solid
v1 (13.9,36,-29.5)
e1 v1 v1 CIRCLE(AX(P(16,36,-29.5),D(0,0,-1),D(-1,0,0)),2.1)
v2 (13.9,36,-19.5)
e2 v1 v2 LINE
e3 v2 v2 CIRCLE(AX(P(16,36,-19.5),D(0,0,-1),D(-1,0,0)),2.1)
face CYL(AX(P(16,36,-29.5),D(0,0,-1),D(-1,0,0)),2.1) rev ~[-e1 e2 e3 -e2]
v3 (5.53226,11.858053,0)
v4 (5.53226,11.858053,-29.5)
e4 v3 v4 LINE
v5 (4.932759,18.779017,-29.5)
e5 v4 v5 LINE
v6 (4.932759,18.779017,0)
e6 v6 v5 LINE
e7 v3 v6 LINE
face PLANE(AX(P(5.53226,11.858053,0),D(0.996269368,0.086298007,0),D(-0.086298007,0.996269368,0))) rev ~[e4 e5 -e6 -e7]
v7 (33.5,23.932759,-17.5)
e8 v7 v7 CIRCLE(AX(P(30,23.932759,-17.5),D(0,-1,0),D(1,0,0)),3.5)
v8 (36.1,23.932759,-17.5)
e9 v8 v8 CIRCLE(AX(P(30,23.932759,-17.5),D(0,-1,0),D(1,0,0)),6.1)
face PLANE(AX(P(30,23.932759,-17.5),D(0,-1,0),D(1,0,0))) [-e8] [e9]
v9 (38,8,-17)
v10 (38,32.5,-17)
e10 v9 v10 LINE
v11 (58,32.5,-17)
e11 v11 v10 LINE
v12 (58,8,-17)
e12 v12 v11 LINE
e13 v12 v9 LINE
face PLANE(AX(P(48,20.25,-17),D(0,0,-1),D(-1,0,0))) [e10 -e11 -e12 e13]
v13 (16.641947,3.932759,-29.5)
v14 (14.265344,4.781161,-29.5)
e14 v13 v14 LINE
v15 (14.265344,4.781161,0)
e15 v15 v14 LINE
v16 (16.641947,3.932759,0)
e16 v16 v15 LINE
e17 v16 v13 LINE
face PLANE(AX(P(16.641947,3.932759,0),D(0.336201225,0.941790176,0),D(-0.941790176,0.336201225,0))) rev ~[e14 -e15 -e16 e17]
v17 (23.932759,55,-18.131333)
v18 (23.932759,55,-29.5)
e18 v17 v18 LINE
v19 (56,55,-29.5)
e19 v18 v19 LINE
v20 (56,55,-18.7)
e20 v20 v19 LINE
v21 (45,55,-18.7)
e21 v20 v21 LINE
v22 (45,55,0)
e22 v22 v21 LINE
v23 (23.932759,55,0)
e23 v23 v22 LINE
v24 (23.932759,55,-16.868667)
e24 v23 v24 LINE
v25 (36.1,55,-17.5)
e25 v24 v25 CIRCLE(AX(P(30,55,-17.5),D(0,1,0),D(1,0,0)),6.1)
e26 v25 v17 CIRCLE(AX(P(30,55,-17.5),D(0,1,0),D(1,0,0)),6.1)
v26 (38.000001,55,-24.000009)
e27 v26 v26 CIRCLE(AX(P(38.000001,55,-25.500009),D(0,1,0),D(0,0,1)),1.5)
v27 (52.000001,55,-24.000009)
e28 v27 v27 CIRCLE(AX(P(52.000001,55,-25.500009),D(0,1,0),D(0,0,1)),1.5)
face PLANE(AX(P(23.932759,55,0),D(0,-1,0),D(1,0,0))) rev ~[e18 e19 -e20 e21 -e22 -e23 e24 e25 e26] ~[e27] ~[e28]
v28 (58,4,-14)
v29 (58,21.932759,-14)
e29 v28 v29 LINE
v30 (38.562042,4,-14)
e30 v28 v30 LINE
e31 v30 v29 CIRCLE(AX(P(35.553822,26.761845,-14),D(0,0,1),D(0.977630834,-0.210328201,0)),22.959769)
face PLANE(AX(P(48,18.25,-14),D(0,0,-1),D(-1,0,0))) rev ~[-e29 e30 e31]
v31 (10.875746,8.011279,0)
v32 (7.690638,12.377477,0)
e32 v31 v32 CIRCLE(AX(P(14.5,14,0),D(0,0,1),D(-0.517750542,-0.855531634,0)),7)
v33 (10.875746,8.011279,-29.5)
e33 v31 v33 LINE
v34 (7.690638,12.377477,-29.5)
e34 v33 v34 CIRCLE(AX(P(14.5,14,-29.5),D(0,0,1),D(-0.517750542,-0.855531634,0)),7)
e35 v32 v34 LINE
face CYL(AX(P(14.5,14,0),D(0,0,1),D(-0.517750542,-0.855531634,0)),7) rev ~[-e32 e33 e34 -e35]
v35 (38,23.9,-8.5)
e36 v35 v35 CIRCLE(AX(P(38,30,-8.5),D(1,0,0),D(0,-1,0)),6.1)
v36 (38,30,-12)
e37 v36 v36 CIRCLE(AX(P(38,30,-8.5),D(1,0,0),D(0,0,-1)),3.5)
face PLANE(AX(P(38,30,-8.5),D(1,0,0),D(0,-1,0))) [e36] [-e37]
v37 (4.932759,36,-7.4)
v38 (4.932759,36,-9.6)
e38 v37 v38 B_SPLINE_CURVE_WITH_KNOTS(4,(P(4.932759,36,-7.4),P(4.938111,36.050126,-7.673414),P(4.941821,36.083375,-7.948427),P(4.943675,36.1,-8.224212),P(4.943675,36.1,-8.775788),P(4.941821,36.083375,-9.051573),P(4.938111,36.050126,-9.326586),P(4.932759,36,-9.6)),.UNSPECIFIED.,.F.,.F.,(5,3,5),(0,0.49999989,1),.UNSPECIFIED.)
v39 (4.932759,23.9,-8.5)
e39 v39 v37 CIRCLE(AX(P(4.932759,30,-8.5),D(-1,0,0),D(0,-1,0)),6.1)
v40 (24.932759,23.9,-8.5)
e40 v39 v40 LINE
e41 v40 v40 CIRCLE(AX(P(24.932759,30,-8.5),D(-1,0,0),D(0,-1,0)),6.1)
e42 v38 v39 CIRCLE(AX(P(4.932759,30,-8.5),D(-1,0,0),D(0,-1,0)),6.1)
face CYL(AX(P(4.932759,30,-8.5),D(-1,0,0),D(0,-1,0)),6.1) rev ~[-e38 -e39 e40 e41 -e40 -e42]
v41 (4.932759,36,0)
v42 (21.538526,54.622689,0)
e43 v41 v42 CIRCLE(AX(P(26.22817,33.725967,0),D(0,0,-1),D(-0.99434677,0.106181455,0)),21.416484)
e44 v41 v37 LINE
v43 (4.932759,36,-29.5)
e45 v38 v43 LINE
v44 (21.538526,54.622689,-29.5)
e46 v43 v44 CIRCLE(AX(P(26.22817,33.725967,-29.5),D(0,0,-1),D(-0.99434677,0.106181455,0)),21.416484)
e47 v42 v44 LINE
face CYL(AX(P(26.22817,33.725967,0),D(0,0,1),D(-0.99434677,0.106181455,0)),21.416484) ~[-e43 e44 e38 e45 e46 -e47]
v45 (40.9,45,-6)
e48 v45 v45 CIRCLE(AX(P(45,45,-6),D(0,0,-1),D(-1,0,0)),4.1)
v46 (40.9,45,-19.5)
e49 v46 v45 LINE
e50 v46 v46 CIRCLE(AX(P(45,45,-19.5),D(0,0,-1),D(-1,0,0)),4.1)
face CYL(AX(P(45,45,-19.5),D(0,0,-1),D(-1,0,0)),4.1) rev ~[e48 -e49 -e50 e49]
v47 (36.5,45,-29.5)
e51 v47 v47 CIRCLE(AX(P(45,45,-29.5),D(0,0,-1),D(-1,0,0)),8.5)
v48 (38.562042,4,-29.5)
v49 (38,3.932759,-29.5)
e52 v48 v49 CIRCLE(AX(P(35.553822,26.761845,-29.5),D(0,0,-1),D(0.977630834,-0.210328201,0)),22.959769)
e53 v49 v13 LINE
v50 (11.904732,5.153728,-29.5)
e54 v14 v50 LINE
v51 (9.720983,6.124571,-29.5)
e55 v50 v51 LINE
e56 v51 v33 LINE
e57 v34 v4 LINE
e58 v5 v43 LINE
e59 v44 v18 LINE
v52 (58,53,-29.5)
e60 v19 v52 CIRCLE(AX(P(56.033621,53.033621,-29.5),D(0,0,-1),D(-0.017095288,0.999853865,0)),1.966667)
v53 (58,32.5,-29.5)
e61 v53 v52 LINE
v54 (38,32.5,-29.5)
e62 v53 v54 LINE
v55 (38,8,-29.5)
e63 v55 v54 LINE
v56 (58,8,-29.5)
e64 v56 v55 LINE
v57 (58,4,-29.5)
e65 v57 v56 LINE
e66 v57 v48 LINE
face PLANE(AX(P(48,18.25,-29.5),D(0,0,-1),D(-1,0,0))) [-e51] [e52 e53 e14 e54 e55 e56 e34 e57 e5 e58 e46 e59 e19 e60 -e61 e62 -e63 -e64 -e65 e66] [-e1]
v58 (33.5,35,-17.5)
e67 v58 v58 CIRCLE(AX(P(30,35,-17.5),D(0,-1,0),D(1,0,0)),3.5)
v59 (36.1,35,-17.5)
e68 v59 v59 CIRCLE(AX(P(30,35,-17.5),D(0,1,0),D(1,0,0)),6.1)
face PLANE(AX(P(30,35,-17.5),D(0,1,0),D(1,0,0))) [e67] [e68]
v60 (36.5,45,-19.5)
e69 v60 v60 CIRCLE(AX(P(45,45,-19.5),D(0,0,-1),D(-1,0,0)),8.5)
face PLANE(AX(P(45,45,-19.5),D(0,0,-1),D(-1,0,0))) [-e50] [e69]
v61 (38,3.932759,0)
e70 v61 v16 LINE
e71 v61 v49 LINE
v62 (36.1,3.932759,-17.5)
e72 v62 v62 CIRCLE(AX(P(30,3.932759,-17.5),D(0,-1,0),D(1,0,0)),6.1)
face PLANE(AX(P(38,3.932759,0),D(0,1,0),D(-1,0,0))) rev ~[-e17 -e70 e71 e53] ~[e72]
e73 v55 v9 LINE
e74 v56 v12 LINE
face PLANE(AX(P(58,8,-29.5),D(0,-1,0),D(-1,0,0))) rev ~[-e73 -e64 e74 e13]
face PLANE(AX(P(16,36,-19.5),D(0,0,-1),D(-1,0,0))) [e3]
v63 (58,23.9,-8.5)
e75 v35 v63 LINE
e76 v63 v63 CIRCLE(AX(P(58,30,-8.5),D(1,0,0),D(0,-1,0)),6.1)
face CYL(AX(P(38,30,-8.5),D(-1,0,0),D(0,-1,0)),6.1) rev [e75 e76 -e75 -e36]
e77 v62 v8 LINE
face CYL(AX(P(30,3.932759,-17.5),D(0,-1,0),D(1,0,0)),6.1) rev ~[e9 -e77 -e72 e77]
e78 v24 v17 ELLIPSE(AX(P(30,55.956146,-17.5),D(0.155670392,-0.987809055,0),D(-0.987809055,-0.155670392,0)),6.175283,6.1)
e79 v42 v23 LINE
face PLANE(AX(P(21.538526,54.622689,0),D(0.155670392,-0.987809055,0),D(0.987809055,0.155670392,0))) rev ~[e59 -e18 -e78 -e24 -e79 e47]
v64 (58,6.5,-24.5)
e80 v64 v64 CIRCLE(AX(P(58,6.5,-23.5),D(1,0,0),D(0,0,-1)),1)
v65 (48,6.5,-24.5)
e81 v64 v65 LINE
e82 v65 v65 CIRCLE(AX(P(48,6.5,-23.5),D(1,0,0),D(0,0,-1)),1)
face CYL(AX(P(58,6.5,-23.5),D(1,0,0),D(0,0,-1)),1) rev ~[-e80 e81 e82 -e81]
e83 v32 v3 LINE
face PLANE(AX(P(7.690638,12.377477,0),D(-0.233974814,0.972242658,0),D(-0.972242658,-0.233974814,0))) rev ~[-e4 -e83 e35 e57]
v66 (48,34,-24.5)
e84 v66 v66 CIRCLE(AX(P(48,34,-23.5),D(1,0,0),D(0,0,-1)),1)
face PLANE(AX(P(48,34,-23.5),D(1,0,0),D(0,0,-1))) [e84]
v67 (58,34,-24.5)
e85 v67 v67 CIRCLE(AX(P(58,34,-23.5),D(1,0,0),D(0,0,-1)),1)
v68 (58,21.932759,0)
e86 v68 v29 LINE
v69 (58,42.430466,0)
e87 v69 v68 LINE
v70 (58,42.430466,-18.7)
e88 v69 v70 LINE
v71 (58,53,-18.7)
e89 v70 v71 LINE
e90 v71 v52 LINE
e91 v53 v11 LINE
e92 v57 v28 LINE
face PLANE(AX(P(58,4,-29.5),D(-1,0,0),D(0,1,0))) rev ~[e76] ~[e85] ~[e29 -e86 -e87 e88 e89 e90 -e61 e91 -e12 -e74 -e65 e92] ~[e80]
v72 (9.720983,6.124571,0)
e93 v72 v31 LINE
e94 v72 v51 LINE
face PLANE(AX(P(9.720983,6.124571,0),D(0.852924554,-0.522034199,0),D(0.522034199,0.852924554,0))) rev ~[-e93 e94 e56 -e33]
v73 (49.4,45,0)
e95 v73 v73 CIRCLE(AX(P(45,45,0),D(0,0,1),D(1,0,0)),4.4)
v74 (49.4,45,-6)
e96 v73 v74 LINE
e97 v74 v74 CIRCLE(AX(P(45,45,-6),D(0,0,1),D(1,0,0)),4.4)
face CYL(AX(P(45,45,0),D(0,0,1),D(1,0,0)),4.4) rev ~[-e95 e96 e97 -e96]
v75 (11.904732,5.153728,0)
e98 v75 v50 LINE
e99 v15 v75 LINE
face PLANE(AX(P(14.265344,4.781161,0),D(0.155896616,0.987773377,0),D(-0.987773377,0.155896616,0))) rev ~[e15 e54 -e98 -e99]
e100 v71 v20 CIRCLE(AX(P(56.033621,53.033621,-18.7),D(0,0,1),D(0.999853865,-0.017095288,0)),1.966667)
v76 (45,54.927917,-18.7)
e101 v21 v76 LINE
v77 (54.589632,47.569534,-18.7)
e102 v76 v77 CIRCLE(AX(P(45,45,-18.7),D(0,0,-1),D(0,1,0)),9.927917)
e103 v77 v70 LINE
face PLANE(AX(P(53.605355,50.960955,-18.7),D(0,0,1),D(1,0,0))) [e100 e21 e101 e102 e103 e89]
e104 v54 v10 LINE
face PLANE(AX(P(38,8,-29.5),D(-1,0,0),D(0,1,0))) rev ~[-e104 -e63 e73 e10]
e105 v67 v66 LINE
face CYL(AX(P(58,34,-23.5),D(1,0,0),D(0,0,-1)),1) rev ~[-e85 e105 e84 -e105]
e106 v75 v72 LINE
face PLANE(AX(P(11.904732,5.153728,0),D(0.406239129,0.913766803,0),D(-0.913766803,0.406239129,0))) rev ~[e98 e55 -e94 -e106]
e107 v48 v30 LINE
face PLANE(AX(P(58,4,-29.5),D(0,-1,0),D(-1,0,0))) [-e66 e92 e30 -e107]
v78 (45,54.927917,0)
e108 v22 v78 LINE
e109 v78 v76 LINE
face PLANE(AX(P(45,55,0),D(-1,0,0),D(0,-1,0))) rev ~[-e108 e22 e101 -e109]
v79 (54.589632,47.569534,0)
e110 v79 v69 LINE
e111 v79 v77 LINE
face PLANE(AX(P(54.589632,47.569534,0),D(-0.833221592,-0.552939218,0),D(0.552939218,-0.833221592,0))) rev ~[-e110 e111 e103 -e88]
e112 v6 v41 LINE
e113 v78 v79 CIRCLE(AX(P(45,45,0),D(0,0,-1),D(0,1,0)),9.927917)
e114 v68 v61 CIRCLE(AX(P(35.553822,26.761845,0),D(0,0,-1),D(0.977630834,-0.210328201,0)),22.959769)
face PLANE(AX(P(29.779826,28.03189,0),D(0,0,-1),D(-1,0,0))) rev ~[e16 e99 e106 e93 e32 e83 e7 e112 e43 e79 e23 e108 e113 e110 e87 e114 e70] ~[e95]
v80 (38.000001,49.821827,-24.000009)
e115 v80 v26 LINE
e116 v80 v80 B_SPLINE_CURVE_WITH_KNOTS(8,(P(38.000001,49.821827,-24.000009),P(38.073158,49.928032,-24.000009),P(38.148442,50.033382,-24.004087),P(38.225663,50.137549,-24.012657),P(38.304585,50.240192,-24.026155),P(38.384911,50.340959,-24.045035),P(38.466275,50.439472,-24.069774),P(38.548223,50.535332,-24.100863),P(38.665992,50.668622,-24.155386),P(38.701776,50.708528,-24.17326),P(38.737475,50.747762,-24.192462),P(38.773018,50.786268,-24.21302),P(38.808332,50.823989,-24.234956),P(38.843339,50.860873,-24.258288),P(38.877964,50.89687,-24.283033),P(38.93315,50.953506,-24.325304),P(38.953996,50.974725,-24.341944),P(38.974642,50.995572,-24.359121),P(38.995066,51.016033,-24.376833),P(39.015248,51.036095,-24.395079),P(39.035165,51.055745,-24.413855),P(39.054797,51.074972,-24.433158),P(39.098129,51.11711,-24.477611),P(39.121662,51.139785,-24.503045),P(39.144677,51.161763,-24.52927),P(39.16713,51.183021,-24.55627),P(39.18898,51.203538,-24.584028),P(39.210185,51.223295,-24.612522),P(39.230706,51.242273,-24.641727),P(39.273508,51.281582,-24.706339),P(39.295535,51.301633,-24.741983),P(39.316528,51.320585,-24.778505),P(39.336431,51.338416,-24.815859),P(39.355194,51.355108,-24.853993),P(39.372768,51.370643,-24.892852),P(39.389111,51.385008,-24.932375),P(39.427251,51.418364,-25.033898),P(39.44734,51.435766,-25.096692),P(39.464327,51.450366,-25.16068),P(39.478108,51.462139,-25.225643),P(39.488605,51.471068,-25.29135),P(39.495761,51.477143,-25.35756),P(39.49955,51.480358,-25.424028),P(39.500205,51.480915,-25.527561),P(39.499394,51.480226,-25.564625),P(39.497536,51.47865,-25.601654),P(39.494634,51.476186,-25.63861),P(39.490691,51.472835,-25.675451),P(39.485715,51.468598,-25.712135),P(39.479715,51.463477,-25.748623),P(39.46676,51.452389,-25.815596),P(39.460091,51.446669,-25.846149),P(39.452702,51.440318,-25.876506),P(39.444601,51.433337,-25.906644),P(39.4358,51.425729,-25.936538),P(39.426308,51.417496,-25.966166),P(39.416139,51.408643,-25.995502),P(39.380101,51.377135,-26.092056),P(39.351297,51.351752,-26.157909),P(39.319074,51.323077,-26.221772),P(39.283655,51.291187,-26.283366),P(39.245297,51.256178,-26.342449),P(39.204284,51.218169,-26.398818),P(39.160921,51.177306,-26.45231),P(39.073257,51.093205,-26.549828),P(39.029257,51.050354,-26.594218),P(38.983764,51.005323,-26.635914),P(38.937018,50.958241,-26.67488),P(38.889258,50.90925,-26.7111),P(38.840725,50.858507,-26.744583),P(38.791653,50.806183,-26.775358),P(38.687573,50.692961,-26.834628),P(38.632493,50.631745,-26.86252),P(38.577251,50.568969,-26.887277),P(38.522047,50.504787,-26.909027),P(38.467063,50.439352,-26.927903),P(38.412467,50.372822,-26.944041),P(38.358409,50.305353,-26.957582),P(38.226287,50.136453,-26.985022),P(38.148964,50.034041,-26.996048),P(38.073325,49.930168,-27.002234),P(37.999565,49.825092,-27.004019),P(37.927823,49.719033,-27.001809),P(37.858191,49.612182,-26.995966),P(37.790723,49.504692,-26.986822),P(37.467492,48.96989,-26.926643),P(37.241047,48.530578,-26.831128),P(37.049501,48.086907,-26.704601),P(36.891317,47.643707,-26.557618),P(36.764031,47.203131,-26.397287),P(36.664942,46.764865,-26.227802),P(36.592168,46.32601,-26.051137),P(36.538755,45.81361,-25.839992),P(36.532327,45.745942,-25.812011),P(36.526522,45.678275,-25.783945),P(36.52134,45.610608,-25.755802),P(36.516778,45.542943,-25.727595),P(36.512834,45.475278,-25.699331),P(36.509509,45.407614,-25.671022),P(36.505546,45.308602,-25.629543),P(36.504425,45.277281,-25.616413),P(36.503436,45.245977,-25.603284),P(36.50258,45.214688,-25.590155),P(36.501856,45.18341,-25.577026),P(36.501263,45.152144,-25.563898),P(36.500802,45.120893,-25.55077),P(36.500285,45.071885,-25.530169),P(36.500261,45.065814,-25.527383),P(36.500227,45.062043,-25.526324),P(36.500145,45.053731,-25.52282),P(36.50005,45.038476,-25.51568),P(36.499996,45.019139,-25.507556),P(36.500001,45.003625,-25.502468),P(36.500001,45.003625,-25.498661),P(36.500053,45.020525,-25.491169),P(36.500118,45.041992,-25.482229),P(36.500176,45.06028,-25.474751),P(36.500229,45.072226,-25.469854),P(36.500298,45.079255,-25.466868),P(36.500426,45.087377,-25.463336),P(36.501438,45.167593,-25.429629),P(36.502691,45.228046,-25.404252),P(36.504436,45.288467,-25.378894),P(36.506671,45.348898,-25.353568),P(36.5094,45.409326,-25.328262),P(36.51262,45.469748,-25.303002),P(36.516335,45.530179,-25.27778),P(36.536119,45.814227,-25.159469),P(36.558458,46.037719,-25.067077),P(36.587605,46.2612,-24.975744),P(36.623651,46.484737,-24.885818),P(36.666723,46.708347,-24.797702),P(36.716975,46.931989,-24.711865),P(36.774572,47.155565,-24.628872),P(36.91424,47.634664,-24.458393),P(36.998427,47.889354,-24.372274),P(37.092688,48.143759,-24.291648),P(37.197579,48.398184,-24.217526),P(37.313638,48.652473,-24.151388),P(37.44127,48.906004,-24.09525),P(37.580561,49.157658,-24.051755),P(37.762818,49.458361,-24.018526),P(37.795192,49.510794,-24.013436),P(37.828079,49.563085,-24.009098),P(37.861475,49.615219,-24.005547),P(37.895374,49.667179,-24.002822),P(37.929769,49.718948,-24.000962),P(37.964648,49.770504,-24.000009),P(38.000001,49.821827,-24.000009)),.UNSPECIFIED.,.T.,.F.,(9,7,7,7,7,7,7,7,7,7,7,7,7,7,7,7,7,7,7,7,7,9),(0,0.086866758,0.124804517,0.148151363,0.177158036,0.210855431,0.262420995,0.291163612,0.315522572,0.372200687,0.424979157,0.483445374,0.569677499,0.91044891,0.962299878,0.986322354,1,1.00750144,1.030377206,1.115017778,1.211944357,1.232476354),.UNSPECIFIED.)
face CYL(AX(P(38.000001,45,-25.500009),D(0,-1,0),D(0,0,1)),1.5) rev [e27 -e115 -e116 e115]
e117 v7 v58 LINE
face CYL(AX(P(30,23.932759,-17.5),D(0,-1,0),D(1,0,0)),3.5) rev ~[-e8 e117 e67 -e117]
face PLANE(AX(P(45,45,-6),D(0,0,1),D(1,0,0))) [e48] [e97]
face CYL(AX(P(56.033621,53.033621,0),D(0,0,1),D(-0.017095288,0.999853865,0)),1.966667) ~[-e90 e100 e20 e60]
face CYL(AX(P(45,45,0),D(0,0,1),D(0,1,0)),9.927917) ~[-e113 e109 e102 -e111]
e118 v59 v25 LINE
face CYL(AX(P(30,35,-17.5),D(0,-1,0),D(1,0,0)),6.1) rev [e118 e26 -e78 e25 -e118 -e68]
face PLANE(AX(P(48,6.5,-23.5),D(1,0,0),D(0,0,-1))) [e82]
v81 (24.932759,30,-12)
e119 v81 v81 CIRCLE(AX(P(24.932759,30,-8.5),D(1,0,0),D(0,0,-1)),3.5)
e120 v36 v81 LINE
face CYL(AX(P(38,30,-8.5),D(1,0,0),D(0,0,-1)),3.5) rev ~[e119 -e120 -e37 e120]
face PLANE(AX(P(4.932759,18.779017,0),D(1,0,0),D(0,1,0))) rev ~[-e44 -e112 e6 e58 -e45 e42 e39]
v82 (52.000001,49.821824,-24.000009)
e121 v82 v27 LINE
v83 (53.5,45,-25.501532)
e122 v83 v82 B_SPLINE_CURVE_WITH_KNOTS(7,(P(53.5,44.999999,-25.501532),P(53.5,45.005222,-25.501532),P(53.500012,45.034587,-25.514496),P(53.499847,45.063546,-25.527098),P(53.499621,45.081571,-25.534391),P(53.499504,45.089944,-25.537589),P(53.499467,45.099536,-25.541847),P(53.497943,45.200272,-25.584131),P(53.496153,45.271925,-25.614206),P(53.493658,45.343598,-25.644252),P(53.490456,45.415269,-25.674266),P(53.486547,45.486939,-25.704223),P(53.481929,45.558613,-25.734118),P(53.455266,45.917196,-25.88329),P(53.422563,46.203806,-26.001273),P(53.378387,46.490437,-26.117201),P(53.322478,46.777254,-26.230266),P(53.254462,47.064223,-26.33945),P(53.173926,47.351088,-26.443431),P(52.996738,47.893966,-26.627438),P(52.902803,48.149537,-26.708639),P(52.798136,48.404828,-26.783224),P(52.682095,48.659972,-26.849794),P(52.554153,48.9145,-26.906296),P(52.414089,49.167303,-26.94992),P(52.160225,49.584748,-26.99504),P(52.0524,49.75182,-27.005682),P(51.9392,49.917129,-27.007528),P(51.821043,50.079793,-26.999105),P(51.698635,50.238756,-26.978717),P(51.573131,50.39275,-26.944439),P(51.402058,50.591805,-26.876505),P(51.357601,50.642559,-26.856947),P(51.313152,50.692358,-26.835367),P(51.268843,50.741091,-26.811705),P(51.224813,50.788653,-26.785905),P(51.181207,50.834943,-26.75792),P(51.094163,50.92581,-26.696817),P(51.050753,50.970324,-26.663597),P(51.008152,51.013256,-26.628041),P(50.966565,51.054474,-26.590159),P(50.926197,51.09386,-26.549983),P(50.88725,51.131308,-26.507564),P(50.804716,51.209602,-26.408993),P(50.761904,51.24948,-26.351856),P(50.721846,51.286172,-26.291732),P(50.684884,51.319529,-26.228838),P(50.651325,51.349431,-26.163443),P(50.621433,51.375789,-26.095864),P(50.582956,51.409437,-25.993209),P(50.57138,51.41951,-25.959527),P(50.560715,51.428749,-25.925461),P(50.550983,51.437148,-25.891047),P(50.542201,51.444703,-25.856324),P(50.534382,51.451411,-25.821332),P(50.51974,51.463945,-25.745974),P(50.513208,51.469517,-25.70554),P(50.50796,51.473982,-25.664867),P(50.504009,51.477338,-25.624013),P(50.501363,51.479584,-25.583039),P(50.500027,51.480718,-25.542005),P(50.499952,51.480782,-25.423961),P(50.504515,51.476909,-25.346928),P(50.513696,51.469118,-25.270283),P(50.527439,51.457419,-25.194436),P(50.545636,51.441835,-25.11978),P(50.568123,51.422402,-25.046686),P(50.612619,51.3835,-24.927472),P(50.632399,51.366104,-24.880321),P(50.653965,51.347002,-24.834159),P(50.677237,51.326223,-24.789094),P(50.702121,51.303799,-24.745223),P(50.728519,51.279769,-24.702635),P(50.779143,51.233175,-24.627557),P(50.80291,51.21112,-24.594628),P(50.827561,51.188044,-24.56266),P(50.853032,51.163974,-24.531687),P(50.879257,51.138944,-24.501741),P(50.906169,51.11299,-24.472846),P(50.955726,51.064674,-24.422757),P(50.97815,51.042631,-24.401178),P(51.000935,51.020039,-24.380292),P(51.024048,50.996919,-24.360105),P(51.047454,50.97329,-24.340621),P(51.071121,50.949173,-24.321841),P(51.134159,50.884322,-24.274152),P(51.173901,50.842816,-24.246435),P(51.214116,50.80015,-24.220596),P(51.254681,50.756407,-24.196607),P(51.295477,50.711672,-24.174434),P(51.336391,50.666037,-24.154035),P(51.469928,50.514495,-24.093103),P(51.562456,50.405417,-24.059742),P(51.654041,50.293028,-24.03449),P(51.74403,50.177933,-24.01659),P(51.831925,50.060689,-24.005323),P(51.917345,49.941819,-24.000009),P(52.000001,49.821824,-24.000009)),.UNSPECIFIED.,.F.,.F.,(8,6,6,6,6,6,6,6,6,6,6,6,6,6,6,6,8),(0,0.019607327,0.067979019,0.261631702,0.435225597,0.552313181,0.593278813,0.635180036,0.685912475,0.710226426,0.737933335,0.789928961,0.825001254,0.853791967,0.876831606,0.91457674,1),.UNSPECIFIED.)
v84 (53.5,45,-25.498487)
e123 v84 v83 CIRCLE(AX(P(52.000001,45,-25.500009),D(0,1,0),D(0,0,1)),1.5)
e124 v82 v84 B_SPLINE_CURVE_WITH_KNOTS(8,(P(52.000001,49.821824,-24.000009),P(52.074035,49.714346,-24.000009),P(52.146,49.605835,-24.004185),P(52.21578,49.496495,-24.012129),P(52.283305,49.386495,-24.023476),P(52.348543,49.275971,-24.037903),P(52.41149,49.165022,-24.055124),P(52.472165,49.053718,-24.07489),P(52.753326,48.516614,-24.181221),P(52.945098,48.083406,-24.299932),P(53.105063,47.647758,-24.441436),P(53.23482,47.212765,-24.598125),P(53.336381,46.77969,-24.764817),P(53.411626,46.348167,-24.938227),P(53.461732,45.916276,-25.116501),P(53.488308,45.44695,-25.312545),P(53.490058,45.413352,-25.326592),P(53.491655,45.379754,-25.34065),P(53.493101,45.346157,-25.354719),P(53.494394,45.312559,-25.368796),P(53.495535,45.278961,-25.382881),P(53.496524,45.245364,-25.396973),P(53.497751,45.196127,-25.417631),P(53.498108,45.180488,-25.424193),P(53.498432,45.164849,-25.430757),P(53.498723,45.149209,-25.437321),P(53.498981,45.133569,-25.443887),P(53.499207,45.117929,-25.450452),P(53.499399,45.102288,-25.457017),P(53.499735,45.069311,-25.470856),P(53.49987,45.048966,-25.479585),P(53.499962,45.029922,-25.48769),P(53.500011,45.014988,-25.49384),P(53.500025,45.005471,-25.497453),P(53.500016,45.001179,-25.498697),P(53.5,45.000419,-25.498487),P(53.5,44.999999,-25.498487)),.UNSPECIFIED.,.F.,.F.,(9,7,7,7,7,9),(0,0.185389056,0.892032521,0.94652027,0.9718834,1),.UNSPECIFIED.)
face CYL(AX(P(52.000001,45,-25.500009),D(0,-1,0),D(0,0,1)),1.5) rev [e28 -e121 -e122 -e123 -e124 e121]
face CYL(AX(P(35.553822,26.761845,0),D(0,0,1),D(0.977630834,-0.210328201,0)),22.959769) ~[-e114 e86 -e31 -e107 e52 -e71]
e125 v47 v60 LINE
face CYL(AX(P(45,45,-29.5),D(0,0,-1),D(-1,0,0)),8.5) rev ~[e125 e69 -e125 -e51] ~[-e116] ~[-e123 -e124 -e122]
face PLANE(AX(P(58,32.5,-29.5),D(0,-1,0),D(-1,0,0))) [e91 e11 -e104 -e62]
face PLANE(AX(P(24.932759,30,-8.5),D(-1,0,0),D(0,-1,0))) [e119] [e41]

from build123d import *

# Parameters (mm, degrees)
SALIENTE_EXTRUIR1_DEPTH = 29.5
CORTAR_EXTRUIR11_DEPTH  = 18.7
CROQUIS12_W             = 20
CROQUIS12_H             = 28.5
SALIENTE_EXTRUIR2_DEPTH = 15.5
CROQUIS6_R              = 8.5
CORTAR_EXTRUIR1_DEPTH   = 10
CROQUIS7_R              = 4.1
CORTAR_EXTRUIR2_DEPTH   = 13.5
CROQUIS8_R              = 4.4
CORTAR_EXTRUIR3_DEPTH   = 6
CROQUIS2_R              = 6.1
CORTAR_EXTRUIR4_DEPTH   = 20
CORTAR_EXTRUIR5_START   = -20
CROQUIS3_R              = 6.1
CORTAR_EXTRUIR5_DEPTH   = 20
CROQUIS4_R              = 6.1
CORTAR_EXTRUIR6_DEPTH   = 20
CORTAR_EXTRUIR7_START   = -20
CROQUIS5_R              = 6.1
CORTAR_EXTRUIR7_DEPTH   = 20
CORTAR_EXTRUIR8_REACH   = 72.631
CROQUIS9_R              = 3.5
CORTAR_EXTRUIR9_REACH   = 74.107
CROQUIS10_R             = 3.5
CROQUIS13_W             = 20
CROQUIS13_H             = 24.5
CORTAR_EXTRUIR10_DEPTH  = 12.5
CORTAR_EXTRUIR12_START  = -10
CROQUIS18_R             = 1.5
CORTAR_EXTRUIR12_DEPTH  = 10
CROQUIS19_R             = 1
CORTAR_EXTRUIR13_DEPTH  = 10
CROQUIS20_R             = 2.1
CORTAR_EXTRUIR14_DEPTH  = 10


with BuildPart() as part:
    # Croquis1 → Saliente-Extruir1 (new body)
    with BuildSketch(Plane.XY):
        with BuildLine():
            Line((5.532260486, 11.858052865), (4.932758535, 18.779017183))
            Line((4.932758535, 18.779017183), (4.932758535, 36))
            ThreePointArc((4.932758535, 36), (10.243586381, 47.979347327), (21.538526154, 54.62268913))
            Line((21.538526154, 54.62268913), (23.932758535, 55))
            Line((23.932758535, 55), (56, 55))
            ThreePointArc((56, 55), (57.424264069, 54.424264069), (58, 53))
            Line((58, 53), (58, 21.932758535))
            ThreePointArc((58, 21.932758535), (50.913097547, 9.695983483), (38, 3.932758535))
            Line((38, 3.932758535), (16.641947135, 3.932758535))
            Line((16.641947135, 3.932758535), (14.26534365, 4.78116089))
            Line((14.26534365, 4.78116089), (11.904731608, 5.153727551))
            Line((11.904731608, 5.153727551), (9.720982817, 6.124570664))
            Line((9.720982817, 6.124570664), (10.875746205, 8.011278565))
            ThreePointArc((10.875746205, 8.011278565), (20.155175368, 18.125408047), (7.690637501, 12.377476547))
            Line((7.690637501, 12.377476547), (5.532260486, 11.858052865))
        make_face()
    extrude(amount=-SALIENTE_EXTRUIR1_DEPTH)

    # Croquis15 → Cortar-Extruir11 (cut)
    with BuildSketch(Plane.XY):
        with BuildLine():
            Line((58, 42.430465887), (58, 53))
            ThreePointArc((58, 53), (57.424264069, 54.424264069), (56, 55))
            Line((56, 55), (45, 55))
            Line((45, 55), (45, 54.927917446))
            ThreePointArc((45, 54.927917446), (51.043733212, 52.876346468), (54.589631863, 47.569534113))
            Line((54.589631863, 47.569534113), (58, 42.430465887))
        make_face()
    extrude(amount=-CORTAR_EXTRUIR11_DEPTH, mode=Mode.SUBTRACT)

    # Croquis12 → Saliente-Extruir2 (add)
    with BuildSketch(Plane(origin=(0, 0, -29.5), x_dir=(-1, 0, 0), z_dir=(0, 0, -1))):
        with Locations((-48, 18.25)):
            Rectangle(CROQUIS12_W, CROQUIS12_H)
    extrude(amount=-SALIENTE_EXTRUIR2_DEPTH)

    # Croquis6 → Cortar-Extruir1 (cut)
    with BuildSketch(Plane(origin=(0, 0, -29.5), x_dir=(-1, 0, 0), z_dir=(0, 0, -1))):
        with Locations((-45, 45)):
            Circle(CROQUIS6_R)
    extrude(amount=-CORTAR_EXTRUIR1_DEPTH, mode=Mode.SUBTRACT)

    # Croquis7 → Cortar-Extruir2 (cut)
    with BuildSketch(Plane(origin=(0, 0, -19.5), x_dir=(-1, 0, 0), z_dir=(0, 0, -1))):
        with Locations((-45, 45)):
            Circle(CROQUIS7_R)
    extrude(amount=-CORTAR_EXTRUIR2_DEPTH, mode=Mode.SUBTRACT)

    # Croquis8 → Cortar-Extruir3 (cut)
    with BuildSketch(Plane.XY):
        with Locations((45, 45)):
            Circle(CROQUIS8_R)
    extrude(amount=-CORTAR_EXTRUIR3_DEPTH, mode=Mode.SUBTRACT)

    # Croquis2 → Cortar-Extruir4 (cut)
    with BuildSketch(Plane.XZ.offset(-3.932758535)):
        with Locations((30, -17.5)):
            Circle(CROQUIS2_R)
    extrude(amount=-CORTAR_EXTRUIR4_DEPTH, mode=Mode.SUBTRACT)

    # Croquis3 → Cortar-Extruir5 (cut)
    with BuildSketch(Plane(origin=(0, 55, 0), x_dir=(1, 0, 0), z_dir=(0, 1, 0)).offset(CORTAR_EXTRUIR5_START)):
        with Locations((30, 17.5)):
            Circle(CROQUIS3_R)
    extrude(amount=CORTAR_EXTRUIR5_DEPTH, mode=Mode.SUBTRACT)

    # Croquis4 → Cortar-Extruir6 (cut)
    with BuildSketch(Plane.ZY.offset(-4.932758535)):
        with Locations(Location((-8.5, 30, 0), (0, 0, 270))):
            Circle(CROQUIS4_R)
    extrude(amount=-CORTAR_EXTRUIR6_DEPTH, mode=Mode.SUBTRACT)

    # Croquis5 → Cortar-Extruir7 (cut)
    with BuildSketch(Plane(origin=(58, 0, 0), x_dir=(0, 0, -1), z_dir=(1, 0, 0)).offset(CORTAR_EXTRUIR7_START)):
        with Locations(Location((8.5, 30, 0), (0, 0, 270))):
            Circle(CROQUIS5_R)
    extrude(amount=CORTAR_EXTRUIR7_DEPTH, mode=Mode.SUBTRACT)

    # Croquis9 → Cortar-Extruir8 (cut, up to next)
    with BuildSketch(Plane(origin=(38, 0, 0), x_dir=(0, 0, -1), z_dir=(1, 0, 0)), mode=Mode.PRIVATE) as cortar_extruir8_sk1:
        with Locations((8.5, 30)):
            Circle(CROQUIS9_R)
    cortar_extruir8_tool1 = extrude(cortar_extruir8_sk1.sketch, amount=-CORTAR_EXTRUIR8_REACH, mode=Mode.PRIVATE) & part.part
    add(cortar_extruir8_tool1.solids().sort_by_distance((38, 30, -8.5))[0], mode=Mode.SUBTRACT)

    # Croquis10 → Cortar-Extruir9 (cut, up to next)
    with BuildSketch(Plane.XZ.offset(-23.932758535), mode=Mode.PRIVATE) as cortar_extruir9_sk1:
        with Locations((30, -17.5)):
            Circle(CROQUIS10_R)
    cortar_extruir9_tool1 = extrude(cortar_extruir9_sk1.sketch, amount=-CORTAR_EXTRUIR9_REACH, mode=Mode.PRIVATE) & part.part
    add(cortar_extruir9_tool1.solids().sort_by_distance((30, 23.932759, -17.5))[0], mode=Mode.SUBTRACT)

    # Croquis13 → Cortar-Extruir10 (cut)
    with BuildSketch(Plane(origin=(0, 0, -29.5), x_dir=(-1, 0, 0), z_dir=(0, 0, -1))):
        with Locations((-48, 20.25)):
            Rectangle(CROQUIS13_W, CROQUIS13_H)
    extrude(amount=-CORTAR_EXTRUIR10_DEPTH, mode=Mode.SUBTRACT)

    # Croquis18 → Cortar-Extruir12 (cut)
    with BuildSketch(Plane(origin=(0, 55, 0), x_dir=(1, 0, 0), z_dir=(0, 1, 0)).offset(CORTAR_EXTRUIR12_START)):
        with Locations(Location((38.000000773, 25.50000943, 0), (0, 0, 270))):
            Circle(CROQUIS18_R)
        with Locations(Location((52.000000773, 25.50000943, 0), (0, 0, 270))):
            Circle(CROQUIS18_R)
    extrude(amount=CORTAR_EXTRUIR12_DEPTH, mode=Mode.SUBTRACT)

    # Croquis19 → Cortar-Extruir13 (cut)
    with BuildSketch(Plane(origin=(58, 0, 0), x_dir=(0, 0, -1), z_dir=(1, 0, 0))):
        with Locations((23.5, 34)):
            Circle(CROQUIS19_R)
        with Locations((23.5, 6.5)):
            Circle(CROQUIS19_R)
    extrude(amount=-CORTAR_EXTRUIR13_DEPTH, mode=Mode.SUBTRACT)

    # Croquis20 → Cortar-Extruir14 (cut)
    with BuildSketch(Plane(origin=(0, 0, -29.5), x_dir=(-1, 0, 0), z_dir=(0, 0, -1))):
        with Locations((-16, 36)):
            Circle(CROQUIS20_R)
    extrude(amount=-CORTAR_EXTRUIR14_DEPTH, mode=Mode.SUBTRACT)


solid = part.part
